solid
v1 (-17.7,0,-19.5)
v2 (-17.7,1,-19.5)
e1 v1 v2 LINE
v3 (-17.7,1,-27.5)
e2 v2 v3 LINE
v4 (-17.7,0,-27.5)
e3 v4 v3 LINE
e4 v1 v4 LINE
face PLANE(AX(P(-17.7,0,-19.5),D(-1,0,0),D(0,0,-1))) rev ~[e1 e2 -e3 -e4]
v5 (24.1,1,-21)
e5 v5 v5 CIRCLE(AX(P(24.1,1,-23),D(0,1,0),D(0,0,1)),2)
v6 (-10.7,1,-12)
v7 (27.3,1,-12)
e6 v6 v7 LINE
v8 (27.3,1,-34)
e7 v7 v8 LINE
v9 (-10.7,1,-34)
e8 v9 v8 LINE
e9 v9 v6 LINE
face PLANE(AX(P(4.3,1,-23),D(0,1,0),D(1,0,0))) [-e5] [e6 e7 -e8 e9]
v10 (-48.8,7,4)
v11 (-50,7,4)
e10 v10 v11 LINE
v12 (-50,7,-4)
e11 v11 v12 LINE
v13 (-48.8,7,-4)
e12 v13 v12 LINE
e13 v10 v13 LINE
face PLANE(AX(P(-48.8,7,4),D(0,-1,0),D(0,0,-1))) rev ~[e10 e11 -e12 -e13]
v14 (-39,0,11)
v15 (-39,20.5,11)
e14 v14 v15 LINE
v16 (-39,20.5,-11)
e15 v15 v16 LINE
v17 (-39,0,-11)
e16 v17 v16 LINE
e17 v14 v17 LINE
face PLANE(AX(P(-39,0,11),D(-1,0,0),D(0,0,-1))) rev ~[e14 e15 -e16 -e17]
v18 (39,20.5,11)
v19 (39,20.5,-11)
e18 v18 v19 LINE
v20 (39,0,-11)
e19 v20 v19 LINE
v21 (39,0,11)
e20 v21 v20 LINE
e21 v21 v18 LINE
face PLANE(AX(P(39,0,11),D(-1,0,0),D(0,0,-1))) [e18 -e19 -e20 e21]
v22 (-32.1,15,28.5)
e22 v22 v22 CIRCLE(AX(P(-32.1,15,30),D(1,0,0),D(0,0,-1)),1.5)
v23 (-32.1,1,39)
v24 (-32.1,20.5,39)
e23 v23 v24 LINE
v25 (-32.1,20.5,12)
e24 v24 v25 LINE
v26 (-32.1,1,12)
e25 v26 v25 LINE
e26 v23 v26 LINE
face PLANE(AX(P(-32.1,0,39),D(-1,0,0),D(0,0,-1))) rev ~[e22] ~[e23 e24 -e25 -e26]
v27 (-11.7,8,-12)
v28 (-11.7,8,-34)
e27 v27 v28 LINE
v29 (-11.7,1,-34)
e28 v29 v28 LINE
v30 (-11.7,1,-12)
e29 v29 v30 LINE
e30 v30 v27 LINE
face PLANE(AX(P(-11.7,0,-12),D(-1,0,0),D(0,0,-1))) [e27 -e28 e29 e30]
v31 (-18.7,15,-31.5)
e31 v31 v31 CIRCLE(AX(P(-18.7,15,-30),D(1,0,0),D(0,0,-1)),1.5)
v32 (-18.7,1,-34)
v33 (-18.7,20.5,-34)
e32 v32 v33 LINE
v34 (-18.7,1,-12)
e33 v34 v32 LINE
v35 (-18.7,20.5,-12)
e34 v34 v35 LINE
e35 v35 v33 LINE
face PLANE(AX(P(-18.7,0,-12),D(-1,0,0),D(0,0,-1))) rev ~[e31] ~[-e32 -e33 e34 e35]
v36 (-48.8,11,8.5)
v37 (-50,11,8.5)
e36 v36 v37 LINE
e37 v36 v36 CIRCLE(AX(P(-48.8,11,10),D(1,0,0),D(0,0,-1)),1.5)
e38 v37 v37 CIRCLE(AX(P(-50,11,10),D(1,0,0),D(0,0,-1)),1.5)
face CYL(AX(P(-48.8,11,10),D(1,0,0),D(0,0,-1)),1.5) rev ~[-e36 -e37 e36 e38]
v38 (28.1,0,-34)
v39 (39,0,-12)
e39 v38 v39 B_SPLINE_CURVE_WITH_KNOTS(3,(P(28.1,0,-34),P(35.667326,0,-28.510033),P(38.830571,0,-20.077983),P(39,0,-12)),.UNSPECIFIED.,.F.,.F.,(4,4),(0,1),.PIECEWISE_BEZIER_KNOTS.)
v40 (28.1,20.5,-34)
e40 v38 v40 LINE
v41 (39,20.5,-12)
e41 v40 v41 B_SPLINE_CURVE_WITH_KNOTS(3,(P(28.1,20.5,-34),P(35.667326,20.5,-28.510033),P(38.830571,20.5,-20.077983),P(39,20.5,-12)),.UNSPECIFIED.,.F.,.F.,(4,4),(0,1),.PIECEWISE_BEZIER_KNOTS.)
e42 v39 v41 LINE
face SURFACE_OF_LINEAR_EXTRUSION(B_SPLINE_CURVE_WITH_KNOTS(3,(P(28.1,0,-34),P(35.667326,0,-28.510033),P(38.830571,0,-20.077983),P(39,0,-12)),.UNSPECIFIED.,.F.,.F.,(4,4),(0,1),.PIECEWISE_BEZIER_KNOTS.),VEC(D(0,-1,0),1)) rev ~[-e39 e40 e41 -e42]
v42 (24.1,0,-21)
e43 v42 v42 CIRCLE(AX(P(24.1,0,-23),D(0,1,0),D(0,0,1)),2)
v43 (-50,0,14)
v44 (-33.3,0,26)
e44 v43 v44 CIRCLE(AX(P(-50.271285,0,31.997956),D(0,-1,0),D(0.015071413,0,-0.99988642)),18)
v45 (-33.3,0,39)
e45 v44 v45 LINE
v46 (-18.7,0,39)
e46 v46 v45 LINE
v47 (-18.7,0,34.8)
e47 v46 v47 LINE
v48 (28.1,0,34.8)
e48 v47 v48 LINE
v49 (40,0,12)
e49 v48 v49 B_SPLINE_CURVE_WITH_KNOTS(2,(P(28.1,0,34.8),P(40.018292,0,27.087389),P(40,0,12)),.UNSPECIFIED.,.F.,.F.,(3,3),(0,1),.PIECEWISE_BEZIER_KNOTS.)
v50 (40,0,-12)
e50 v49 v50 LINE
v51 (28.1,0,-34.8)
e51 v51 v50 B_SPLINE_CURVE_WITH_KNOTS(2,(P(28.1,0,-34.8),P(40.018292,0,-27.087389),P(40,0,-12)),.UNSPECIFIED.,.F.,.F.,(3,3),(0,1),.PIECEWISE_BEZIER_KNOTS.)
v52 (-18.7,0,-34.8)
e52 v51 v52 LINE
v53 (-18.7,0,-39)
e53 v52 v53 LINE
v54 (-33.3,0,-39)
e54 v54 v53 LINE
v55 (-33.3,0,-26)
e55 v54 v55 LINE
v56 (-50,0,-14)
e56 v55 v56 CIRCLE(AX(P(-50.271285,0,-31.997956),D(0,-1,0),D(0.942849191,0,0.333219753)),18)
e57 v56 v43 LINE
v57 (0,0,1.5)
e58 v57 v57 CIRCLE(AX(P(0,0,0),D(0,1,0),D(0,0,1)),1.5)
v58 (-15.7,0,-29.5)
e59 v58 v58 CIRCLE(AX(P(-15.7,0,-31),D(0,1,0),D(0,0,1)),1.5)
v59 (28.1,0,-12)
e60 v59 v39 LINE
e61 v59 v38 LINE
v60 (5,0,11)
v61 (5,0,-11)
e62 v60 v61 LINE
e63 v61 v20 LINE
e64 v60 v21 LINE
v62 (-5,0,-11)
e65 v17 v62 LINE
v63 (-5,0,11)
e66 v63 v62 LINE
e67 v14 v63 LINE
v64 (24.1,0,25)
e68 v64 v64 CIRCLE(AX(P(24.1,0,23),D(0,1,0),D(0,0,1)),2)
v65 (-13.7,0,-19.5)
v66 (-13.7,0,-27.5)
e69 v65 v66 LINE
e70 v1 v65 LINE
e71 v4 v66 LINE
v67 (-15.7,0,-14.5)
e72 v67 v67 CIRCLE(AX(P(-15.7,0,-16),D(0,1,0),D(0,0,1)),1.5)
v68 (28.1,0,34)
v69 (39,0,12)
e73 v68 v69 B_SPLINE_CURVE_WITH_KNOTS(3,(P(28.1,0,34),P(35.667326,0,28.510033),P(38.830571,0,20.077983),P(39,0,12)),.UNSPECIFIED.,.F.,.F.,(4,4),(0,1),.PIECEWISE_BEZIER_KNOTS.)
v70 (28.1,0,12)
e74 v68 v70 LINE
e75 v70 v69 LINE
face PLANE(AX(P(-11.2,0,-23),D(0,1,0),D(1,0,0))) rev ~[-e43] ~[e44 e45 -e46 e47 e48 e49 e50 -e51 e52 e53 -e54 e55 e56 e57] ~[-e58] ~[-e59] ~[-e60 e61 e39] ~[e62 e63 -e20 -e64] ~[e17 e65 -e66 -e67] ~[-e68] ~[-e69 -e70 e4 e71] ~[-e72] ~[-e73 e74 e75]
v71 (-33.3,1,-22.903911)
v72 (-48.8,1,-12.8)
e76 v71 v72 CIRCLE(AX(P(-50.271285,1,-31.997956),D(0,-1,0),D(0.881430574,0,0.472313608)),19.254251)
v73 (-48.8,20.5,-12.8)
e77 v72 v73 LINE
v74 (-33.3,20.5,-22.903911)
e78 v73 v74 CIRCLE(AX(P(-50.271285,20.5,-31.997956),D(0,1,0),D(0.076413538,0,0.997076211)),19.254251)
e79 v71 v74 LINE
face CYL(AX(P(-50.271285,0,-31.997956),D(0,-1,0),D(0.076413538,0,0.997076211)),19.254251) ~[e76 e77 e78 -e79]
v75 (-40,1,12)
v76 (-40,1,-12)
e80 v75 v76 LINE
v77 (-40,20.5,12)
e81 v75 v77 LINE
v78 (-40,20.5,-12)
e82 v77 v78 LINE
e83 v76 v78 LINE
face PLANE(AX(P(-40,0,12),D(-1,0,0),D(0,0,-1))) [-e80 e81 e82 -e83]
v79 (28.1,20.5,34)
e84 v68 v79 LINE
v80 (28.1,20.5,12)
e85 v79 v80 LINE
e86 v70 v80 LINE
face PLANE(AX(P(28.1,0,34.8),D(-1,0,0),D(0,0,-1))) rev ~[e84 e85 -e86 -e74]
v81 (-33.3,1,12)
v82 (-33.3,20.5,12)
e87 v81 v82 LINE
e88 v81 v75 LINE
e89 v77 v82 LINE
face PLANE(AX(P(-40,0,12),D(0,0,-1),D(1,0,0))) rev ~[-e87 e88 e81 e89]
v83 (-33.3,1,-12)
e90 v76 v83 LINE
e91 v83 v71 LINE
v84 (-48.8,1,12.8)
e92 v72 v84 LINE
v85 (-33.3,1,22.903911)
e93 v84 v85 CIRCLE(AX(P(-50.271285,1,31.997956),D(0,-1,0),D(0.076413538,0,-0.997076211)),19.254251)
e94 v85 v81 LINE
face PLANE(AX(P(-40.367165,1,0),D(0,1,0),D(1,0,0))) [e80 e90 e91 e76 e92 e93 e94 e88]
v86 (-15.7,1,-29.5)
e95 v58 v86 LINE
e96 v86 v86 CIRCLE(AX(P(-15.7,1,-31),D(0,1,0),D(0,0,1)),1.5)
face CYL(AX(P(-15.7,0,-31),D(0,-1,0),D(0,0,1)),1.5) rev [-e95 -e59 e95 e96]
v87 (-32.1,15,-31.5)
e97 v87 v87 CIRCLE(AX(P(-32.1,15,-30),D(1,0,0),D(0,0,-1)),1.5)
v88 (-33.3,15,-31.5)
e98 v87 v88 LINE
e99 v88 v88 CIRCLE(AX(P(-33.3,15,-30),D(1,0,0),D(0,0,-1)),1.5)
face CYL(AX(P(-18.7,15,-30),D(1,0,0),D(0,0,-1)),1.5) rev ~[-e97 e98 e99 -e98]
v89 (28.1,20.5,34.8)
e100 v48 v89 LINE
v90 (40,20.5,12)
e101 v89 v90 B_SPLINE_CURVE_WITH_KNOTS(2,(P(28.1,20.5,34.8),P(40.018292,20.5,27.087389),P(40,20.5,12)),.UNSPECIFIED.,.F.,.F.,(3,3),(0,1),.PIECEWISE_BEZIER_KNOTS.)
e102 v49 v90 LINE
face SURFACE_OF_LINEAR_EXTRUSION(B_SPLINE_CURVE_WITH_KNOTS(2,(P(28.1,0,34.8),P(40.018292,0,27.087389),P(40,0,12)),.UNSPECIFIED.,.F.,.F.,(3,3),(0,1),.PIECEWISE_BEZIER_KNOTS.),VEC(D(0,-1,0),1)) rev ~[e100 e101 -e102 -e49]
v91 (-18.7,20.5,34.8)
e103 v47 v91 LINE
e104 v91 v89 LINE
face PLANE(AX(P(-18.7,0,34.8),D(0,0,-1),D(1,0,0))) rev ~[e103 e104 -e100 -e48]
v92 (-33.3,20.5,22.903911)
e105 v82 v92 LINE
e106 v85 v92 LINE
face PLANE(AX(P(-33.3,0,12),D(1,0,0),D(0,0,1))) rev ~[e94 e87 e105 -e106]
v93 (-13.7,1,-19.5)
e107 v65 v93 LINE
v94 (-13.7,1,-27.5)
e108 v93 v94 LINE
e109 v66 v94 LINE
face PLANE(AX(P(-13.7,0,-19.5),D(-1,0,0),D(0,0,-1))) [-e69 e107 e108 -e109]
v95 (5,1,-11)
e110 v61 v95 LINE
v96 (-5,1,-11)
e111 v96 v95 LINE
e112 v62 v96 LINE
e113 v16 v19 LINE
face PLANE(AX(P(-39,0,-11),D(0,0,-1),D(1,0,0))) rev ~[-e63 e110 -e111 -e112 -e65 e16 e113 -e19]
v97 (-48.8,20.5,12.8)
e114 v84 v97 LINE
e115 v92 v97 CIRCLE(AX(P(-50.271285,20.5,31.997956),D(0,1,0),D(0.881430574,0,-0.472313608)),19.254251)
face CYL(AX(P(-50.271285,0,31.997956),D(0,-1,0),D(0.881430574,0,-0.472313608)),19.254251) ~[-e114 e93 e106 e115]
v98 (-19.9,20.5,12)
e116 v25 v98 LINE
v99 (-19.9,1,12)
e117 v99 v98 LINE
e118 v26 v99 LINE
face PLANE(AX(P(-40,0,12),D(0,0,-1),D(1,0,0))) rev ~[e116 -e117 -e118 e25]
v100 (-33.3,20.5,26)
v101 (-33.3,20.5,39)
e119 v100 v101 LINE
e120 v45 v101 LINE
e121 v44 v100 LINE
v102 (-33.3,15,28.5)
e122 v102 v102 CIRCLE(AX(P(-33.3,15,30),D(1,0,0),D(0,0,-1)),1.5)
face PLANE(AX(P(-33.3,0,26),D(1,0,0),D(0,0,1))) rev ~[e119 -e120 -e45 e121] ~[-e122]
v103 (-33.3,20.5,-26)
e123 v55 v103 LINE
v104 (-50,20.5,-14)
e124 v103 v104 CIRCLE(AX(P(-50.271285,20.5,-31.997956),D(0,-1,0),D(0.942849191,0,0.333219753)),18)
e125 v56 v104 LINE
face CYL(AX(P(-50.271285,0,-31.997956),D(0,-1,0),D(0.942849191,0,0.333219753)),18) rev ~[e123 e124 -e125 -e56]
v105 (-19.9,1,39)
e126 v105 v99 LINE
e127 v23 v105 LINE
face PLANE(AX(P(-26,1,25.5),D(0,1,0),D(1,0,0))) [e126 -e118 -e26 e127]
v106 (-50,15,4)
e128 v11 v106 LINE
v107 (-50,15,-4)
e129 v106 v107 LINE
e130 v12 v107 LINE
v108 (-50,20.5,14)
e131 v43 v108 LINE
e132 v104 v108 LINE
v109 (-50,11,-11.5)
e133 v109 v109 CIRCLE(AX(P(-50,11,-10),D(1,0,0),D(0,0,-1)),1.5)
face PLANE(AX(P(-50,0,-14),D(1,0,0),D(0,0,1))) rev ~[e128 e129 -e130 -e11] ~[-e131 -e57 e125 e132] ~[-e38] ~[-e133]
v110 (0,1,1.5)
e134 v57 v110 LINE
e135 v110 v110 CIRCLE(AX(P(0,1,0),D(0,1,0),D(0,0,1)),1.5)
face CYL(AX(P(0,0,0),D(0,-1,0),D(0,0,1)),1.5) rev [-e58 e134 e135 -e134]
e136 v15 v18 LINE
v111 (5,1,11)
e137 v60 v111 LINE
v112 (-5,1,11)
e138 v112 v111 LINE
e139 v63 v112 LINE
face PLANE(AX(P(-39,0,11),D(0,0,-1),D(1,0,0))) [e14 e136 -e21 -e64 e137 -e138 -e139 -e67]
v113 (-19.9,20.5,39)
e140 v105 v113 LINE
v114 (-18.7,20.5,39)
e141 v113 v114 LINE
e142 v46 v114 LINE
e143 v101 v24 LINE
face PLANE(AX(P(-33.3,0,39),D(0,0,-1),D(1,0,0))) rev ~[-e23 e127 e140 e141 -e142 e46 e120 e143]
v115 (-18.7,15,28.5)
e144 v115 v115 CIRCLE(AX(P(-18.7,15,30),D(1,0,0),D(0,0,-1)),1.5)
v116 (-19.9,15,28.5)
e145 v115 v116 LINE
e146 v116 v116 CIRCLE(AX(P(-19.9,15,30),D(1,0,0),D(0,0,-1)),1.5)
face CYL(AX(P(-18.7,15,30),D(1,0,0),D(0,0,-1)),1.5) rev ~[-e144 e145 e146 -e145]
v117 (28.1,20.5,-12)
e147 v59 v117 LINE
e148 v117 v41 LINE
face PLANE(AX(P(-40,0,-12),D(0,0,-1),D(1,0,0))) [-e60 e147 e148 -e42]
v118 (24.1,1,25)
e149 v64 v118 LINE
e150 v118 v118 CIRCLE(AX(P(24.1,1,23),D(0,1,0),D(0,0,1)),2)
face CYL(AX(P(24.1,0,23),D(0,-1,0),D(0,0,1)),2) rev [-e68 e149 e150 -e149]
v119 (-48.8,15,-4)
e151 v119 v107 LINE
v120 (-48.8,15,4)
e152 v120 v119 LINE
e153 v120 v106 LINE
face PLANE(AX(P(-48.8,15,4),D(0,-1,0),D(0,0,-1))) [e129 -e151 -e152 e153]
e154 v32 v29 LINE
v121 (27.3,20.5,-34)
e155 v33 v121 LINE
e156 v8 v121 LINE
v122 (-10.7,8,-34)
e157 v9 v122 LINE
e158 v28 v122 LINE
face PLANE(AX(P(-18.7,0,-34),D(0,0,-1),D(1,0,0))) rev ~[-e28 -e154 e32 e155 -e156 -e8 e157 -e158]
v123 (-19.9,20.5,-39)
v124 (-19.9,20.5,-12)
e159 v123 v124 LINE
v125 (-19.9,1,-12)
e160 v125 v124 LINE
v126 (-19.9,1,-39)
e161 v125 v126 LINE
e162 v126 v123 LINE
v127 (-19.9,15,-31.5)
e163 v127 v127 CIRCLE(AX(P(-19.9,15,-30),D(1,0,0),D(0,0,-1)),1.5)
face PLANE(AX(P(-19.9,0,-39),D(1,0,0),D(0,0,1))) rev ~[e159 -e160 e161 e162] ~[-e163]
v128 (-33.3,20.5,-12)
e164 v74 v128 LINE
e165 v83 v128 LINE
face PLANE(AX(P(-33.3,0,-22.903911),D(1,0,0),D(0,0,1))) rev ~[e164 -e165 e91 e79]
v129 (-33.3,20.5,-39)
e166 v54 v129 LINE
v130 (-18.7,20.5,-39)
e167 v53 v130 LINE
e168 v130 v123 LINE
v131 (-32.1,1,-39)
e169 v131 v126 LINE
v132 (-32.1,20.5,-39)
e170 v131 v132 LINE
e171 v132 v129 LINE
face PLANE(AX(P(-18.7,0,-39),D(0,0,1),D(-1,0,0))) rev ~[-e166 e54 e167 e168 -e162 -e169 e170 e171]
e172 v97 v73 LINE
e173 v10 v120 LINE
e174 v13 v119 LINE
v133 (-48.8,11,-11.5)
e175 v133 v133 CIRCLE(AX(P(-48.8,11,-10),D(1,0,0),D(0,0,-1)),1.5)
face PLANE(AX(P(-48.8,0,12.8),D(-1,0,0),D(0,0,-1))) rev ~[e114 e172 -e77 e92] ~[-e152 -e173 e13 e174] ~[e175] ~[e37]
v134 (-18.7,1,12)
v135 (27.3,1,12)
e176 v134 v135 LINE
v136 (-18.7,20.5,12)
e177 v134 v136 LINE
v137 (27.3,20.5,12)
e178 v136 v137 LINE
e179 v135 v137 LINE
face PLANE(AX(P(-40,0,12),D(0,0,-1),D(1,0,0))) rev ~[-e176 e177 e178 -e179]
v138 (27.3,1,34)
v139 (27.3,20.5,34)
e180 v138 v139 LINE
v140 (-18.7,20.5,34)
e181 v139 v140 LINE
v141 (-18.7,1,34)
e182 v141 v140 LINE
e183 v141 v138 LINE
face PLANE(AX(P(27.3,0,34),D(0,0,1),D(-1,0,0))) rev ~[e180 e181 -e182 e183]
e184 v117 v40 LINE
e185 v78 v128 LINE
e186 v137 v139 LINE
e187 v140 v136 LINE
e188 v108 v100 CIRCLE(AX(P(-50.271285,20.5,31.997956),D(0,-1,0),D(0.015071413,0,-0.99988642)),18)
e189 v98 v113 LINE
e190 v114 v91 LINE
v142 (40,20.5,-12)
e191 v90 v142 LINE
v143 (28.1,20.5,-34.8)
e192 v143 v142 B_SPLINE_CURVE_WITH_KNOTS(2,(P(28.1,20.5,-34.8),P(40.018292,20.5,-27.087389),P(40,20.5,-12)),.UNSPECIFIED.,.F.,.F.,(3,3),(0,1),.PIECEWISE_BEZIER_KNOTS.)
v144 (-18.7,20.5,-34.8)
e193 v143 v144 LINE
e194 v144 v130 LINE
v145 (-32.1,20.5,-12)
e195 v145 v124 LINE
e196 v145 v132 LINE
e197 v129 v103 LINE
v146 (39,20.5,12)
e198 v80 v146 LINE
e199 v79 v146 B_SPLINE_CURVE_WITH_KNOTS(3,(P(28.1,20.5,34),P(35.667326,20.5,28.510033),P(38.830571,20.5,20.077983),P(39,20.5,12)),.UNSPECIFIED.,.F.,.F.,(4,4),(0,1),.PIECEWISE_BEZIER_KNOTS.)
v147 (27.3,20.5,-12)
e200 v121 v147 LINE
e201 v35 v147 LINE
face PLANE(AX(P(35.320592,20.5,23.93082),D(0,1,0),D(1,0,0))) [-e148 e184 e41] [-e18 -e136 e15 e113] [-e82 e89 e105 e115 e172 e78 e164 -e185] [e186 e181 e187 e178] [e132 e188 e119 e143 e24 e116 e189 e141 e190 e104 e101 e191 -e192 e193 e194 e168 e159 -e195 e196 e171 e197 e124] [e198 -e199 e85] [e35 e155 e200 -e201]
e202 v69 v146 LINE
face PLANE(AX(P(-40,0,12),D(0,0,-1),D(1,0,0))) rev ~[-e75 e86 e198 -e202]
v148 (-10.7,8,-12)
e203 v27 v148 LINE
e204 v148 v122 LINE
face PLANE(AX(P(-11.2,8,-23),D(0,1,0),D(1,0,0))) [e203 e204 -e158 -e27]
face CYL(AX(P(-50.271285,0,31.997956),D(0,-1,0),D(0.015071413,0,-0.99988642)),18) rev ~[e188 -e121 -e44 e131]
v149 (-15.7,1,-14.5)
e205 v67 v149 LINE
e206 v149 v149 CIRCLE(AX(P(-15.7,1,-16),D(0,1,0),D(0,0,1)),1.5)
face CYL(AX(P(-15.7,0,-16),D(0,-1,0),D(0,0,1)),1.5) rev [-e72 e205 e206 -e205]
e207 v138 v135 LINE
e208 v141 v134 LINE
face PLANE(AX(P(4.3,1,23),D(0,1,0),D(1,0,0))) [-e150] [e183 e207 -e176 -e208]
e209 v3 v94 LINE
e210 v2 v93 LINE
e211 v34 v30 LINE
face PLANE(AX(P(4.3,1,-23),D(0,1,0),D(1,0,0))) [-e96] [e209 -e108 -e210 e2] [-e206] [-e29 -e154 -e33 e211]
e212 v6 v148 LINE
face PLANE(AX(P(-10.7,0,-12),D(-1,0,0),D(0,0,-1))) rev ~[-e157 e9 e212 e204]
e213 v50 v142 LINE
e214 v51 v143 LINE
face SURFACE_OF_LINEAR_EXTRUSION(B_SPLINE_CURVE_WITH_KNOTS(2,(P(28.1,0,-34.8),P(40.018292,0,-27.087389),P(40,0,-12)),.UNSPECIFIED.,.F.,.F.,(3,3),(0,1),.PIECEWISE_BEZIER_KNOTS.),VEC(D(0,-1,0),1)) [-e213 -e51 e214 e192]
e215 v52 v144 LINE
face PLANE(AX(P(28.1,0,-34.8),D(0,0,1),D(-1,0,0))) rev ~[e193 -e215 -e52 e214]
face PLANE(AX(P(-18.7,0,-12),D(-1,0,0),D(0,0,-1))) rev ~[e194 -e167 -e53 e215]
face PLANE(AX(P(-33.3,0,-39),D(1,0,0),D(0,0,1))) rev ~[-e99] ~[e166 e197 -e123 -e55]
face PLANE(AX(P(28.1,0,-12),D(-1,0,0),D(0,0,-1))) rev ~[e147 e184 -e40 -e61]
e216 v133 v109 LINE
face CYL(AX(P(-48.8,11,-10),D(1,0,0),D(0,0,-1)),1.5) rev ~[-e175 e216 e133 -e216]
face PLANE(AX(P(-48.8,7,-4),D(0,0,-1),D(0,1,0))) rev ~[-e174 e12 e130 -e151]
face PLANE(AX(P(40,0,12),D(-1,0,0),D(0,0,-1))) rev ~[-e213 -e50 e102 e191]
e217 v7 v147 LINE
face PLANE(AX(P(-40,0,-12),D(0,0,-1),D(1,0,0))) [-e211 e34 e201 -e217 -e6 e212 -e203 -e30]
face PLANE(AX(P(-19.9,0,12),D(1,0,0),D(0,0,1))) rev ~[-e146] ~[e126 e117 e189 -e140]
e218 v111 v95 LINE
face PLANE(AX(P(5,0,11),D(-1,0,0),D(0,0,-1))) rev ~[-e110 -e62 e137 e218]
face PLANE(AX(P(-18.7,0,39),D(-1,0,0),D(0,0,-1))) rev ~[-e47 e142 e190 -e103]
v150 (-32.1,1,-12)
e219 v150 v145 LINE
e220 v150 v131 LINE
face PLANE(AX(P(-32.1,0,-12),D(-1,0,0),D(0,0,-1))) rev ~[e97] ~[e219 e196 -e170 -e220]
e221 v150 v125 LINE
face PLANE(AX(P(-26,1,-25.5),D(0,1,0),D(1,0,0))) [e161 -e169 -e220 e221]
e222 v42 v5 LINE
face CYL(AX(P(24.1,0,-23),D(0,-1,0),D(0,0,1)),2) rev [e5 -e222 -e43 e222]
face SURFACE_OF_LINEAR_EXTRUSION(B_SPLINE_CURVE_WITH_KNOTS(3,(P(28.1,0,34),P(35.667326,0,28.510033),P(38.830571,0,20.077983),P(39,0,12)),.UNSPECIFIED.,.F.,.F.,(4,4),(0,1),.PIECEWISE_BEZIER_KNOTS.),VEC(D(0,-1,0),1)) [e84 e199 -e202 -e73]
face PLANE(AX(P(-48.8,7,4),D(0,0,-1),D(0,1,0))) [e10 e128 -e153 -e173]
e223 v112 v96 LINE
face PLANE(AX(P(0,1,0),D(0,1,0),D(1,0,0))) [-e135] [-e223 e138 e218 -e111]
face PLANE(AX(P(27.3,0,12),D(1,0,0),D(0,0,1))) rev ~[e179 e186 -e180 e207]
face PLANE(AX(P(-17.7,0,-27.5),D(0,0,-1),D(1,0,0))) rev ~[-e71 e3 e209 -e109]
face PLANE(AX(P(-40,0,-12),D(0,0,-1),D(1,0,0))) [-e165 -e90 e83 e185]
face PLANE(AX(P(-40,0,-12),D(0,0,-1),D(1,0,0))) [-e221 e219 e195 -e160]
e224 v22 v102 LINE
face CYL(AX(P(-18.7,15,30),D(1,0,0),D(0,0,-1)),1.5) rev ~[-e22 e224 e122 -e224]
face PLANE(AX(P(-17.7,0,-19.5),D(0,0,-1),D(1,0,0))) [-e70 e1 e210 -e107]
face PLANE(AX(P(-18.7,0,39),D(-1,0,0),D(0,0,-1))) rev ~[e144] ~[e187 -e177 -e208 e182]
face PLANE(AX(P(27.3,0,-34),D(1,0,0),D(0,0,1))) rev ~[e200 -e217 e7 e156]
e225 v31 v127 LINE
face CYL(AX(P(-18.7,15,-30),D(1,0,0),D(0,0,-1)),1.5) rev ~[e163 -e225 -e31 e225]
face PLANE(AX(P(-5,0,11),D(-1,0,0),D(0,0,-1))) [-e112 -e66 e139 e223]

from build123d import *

# Parameters (mm, degrees)
SKETCH_2_W          = 80
SKETCH_2_H          = 24
SKETCH_2_W_2        = 78
SKETCH_2_H_2        = 22
EXTRUDE_3130_DEPTH  = 20.5
SKETCH_2_3_W        = 10
SKETCH_2_3_H        = 22
SKETCH_2_3_R        = 1.5
SKETCH_2_3_W_2      = 46
SKETCH_2_3_R_2      = 2
SKETCH_2_3_W_3      = 4
SKETCH_2_3_H_2      = 8
SKETCH_2_3_W_4      = 12.2
SKETCH_2_3_H_3      = 27
EXTRUDE_3218_DEPTH  = 1
CUT_EXTRUDE_START   = -18.7
SKETCH_3_R          = 1.5
CUT_EXTRUDE_1_DEPTH = 14.6
CUT_EXTRUDE_START_2 = -48.8
SKETCH_3_2_R        = 1.5
SKETCH_3_2_W        = 8
SKETCH_3_2_H        = 8
CUT_EXTRUDE_2_DEPTH = 1.2
SKETCH_2_5_W        = 1
SKETCH_2_5_H        = 22
EXTRUDE_4_DEPTH     = 8


with BuildPart() as part:
    # Эскиз2 → Extrude 3130 (new body)
    # profile 1 of 8: a face of its own
    with BuildSketch(Plane(origin=(0, 0, 0), x_dir=(1, 0, 0), z_dir=(0, 1, 0))):
        Rectangle(SKETCH_2_W, SKETCH_2_H)
        Rectangle(SKETCH_2_W_2, SKETCH_2_H_2, mode=Mode.SUBTRACT)
    # profile 2 of 8: a face of its own
    with BuildSketch(Plane(origin=(0, 0, 0), x_dir=(1, 0, 0), z_dir=(0, 1, 0))):
        with BuildLine():
            Line((-33.3, -39), (-32.1, -39))
            Line((-32.1, -39), (-32.1, -12))
            Line((-32.1, -12), (-33.3, -12))
            Line((-33.3, -12), (-33.3, -22.903910844))
            ThreePointArc((-33.3, -22.903910844), (-39.756802154, -15.868113034), (-48.8, -12.8))
            Line((-48.8, -12.8), (-48.8, 12.8))
            ThreePointArc((-48.8, 12.8), (-39.756802154, 15.868113034), (-33.3, 22.903910844))
            Line((-33.3, 22.903910844), (-33.3, 12))
            Line((-33.3, 12), (-32.1, 12))
            Line((-32.1, 12), (-32.1, 39))
            Line((-32.1, 39), (-33.3, 39))
            Line((-33.3, 39), (-33.3, 26))
            ThreePointArc((-33.3, 26), (-39.767640231, 17.380382655), (-50, 14))
            Line((-50, 14), (-50, -14))
            ThreePointArc((-50, -14), (-39.767640231, -17.380382655), (-33.3, -26))
            Line((-33.3, -26), (-33.3, -39))
        make_face()
    # profile 3 of 8: a face of its own
    with BuildSketch(Plane(origin=(0, 0, 0), x_dir=(1, 0, 0), z_dir=(0, 1, 0))):
        Polygon((-18.7, 34), (-18.7, 34.8), (-18.7, 39), (-19.9, 39), (-19.9, 12), (-18.7, 12), align=None)
    # profile 4 of 8: a face of its own
    with BuildSketch(Plane(origin=(0, 0, 0), x_dir=(1, 0, 0), z_dir=(0, 1, 0))):
        Polygon((-18.7, -39), (-18.7, -34.8), (-18.7, -34), (-18.7, -12), (-19.9, -12), (-19.9, -39), align=None)
    # profile 5 of 8: a face of its own
    with BuildSketch(Plane(origin=(0, 0, 0), x_dir=(1, 0, 0), z_dir=(0, 1, 0))):
        Polygon((28.1, 34), (28.1, 34.8), (-18.7, 34.8), (-18.7, 34), (-11.7, 34), (-10.7, 34), (27.3, 34), (27.3, 12), (28.1, 12), align=None)
    # profile 6 of 8: a face of its own
    with BuildSketch(Plane(origin=(0, 0, 0), x_dir=(1, 0, 0), z_dir=(0, 1, 0))):
        with BuildLine():
            Line((39, 12), (40, 12))
            add(Edge.make_bspline(
                [(28.1, 34.8), (40.01829159, 27.087388808), (40, 12)],
                knots=[0, 0, 0, 1, 1, 1], degree=2))
            Line((28.1, 34.8), (28.1, 34))
            add(Edge.make_bspline(
                [(28.1, 34), (35.667325964, 28.510032971), (38.830570785, 20.077982561), (39, 12)],
                knots=[0, 0, 0, 0, 1, 1, 1, 1], degree=3))
        make_face()
    # profile 7 of 8: a face of its own
    with BuildSketch(Plane(origin=(0, 0, 0), x_dir=(1, 0, 0), z_dir=(0, 1, 0))):
        Polygon((-18.7, -34.8), (28.1, -34.8), (28.1, -34), (28.1, -12), (27.3, -12), (27.3, -34), (-18.7, -34), align=None)
    # profile 8 of 8: a face of its own
    with BuildSketch(Plane(origin=(0, 0, 0), x_dir=(1, 0, 0), z_dir=(0, 1, 0))):
        with BuildLine():
            add(Edge.make_bspline(
                [(28.1, -34.8), (40.01829159, -27.087388808), (40, -12)],
                knots=[0, 0, 0, 1, 1, 1], degree=2))
            Line((40, -12), (39, -12))
            add(Edge.make_bspline(
                [(28.1, -34), (35.667325964, -28.510032971), (38.830570785, -20.077982561), (39, -12)],
                knots=[0, 0, 0, 0, 1, 1, 1, 1], degree=3))
            Line((28.1, -34), (28.1, -34.8))
        make_face()
    extrude(amount=EXTRUDE_3130_DEPTH)

    # Эскиз2<3> → Extrude 3218 (add)
    # profile 1 of 6: a face of its own
    with BuildSketch(Plane(origin=(0, 0, 0), x_dir=(1, 0, 0), z_dir=(0, 1, 0))):
        Rectangle(SKETCH_2_3_W, SKETCH_2_3_H)
        with Locations(Location((0, 0, 0), (0, 0, 270))):
            Circle(SKETCH_2_3_R, mode=Mode.SUBTRACT)
    # profile 2 of 6: a face of its own
    with BuildSketch(Plane(origin=(0, 0, 0), x_dir=(1, 0, 0), z_dir=(0, 1, 0))):
        with Locations((4.3, -23)):
            Rectangle(SKETCH_2_3_W_2, SKETCH_2_3_H)
        with Locations(Location((24.1, -23, 0), (0, 0, 270))):
            Circle(SKETCH_2_3_R_2, mode=Mode.SUBTRACT)
    # profile 3 of 6: a face of its own
    with BuildSketch(Plane(origin=(0, 0, 0), x_dir=(1, 0, 0), z_dir=(0, 1, 0))):
        with Locations((4.3, 23)):
            Rectangle(SKETCH_2_3_W_2, SKETCH_2_3_H)
        with Locations(Location((24.1, 23, 0), (0, 0, 270))):
            Circle(SKETCH_2_3_R_2, mode=Mode.SUBTRACT)
        with Locations(Location((-15.7, 31, 0), (0, 0, 270))):
            Circle(SKETCH_2_3_R, mode=Mode.SUBTRACT)
        with Locations(Location((-15.7, 16, 0), (0, 0, 270))):
            Circle(SKETCH_2_3_R, mode=Mode.SUBTRACT)
        with Locations((-15.7, 23.5)):
            Rectangle(SKETCH_2_3_W_3, SKETCH_2_3_H_2, mode=Mode.SUBTRACT)
    # profile 4 of 6: a face of its own
    with BuildSketch(Plane(origin=(0, 0, 0), x_dir=(1, 0, 0), z_dir=(0, 1, 0))):
        with Locations((-26, -25.5)):
            Rectangle(SKETCH_2_3_W_4, SKETCH_2_3_H_3)
    # profile 5 of 6: a face of its own
    with BuildSketch(Plane(origin=(0, 0, 0), x_dir=(1, 0, 0), z_dir=(0, 1, 0))):
        with Locations((-26, 25.5)):
            Rectangle(SKETCH_2_3_W_4, SKETCH_2_3_H_3)
    # profile 6 of 6: a face of its own
    with BuildSketch(Plane(origin=(0, 0, 0), x_dir=(1, 0, 0), z_dir=(0, 1, 0))):
        with BuildLine():
            Line((-33.3, -22.903910844), (-33.3, -12))
            Line((-33.3, -12), (-40, -12))
            Line((-40, -12), (-40, 12))
            Line((-40, 12), (-33.3, 12))
            Line((-33.3, 12), (-33.3, 22.903910844))
            ThreePointArc((-33.3, 22.903910844), (-39.756802154, 15.868113034), (-48.8, 12.8))
            Line((-48.8, 12.8), (-48.8, -12.8))
            ThreePointArc((-48.8, -12.8), (-39.756802154, -15.868113034), (-33.3, -22.903910844))
        make_face()
    extrude(amount=EXTRUDE_3218_DEPTH)

    # Эскиз3 → Вырез-Вытянуть1 (cut)
    with BuildSketch(Plane(origin=(0, 0, 0), x_dir=(0, 0, -1), z_dir=(1, 0, 0)).offset(CUT_EXTRUDE_START)):
        with Locations((-30, 15)):
            Circle(SKETCH_3_R)
        with Locations((30, 15)):
            Circle(SKETCH_3_R)
    extrude(amount=-CUT_EXTRUDE_1_DEPTH, mode=Mode.SUBTRACT)

    # Эскиз3<2> → Вырез-Вытянуть2 (cut)
    with BuildSketch(Plane(origin=(0, 0, 0), x_dir=(0, 0, -1), z_dir=(1, 0, 0)).offset(CUT_EXTRUDE_START_2)):
        with Locations((30, 15)):
            Circle(SKETCH_3_2_R)
        with Locations((-30, 15)):
            Circle(SKETCH_3_2_R)
        with Locations((-10, 11)):
            Circle(SKETCH_3_2_R)
        with Locations((10, 11)):
            Circle(SKETCH_3_2_R)
        with Locations((0, 11)):
            Rectangle(SKETCH_3_2_W, SKETCH_3_2_H)
    extrude(amount=-CUT_EXTRUDE_2_DEPTH, mode=Mode.SUBTRACT)

    # Эскиз2<5> → Бобышка-Вытянуть4 (add)
    with BuildSketch(Plane(origin=(0, 0, 0), x_dir=(1, 0, 0), z_dir=(0, 1, 0))):
        with Locations((-11.2, 23)):
            Rectangle(SKETCH_2_5_W, SKETCH_2_5_H)
    extrude(amount=EXTRUDE_4_DEPTH)


solid = part.part
